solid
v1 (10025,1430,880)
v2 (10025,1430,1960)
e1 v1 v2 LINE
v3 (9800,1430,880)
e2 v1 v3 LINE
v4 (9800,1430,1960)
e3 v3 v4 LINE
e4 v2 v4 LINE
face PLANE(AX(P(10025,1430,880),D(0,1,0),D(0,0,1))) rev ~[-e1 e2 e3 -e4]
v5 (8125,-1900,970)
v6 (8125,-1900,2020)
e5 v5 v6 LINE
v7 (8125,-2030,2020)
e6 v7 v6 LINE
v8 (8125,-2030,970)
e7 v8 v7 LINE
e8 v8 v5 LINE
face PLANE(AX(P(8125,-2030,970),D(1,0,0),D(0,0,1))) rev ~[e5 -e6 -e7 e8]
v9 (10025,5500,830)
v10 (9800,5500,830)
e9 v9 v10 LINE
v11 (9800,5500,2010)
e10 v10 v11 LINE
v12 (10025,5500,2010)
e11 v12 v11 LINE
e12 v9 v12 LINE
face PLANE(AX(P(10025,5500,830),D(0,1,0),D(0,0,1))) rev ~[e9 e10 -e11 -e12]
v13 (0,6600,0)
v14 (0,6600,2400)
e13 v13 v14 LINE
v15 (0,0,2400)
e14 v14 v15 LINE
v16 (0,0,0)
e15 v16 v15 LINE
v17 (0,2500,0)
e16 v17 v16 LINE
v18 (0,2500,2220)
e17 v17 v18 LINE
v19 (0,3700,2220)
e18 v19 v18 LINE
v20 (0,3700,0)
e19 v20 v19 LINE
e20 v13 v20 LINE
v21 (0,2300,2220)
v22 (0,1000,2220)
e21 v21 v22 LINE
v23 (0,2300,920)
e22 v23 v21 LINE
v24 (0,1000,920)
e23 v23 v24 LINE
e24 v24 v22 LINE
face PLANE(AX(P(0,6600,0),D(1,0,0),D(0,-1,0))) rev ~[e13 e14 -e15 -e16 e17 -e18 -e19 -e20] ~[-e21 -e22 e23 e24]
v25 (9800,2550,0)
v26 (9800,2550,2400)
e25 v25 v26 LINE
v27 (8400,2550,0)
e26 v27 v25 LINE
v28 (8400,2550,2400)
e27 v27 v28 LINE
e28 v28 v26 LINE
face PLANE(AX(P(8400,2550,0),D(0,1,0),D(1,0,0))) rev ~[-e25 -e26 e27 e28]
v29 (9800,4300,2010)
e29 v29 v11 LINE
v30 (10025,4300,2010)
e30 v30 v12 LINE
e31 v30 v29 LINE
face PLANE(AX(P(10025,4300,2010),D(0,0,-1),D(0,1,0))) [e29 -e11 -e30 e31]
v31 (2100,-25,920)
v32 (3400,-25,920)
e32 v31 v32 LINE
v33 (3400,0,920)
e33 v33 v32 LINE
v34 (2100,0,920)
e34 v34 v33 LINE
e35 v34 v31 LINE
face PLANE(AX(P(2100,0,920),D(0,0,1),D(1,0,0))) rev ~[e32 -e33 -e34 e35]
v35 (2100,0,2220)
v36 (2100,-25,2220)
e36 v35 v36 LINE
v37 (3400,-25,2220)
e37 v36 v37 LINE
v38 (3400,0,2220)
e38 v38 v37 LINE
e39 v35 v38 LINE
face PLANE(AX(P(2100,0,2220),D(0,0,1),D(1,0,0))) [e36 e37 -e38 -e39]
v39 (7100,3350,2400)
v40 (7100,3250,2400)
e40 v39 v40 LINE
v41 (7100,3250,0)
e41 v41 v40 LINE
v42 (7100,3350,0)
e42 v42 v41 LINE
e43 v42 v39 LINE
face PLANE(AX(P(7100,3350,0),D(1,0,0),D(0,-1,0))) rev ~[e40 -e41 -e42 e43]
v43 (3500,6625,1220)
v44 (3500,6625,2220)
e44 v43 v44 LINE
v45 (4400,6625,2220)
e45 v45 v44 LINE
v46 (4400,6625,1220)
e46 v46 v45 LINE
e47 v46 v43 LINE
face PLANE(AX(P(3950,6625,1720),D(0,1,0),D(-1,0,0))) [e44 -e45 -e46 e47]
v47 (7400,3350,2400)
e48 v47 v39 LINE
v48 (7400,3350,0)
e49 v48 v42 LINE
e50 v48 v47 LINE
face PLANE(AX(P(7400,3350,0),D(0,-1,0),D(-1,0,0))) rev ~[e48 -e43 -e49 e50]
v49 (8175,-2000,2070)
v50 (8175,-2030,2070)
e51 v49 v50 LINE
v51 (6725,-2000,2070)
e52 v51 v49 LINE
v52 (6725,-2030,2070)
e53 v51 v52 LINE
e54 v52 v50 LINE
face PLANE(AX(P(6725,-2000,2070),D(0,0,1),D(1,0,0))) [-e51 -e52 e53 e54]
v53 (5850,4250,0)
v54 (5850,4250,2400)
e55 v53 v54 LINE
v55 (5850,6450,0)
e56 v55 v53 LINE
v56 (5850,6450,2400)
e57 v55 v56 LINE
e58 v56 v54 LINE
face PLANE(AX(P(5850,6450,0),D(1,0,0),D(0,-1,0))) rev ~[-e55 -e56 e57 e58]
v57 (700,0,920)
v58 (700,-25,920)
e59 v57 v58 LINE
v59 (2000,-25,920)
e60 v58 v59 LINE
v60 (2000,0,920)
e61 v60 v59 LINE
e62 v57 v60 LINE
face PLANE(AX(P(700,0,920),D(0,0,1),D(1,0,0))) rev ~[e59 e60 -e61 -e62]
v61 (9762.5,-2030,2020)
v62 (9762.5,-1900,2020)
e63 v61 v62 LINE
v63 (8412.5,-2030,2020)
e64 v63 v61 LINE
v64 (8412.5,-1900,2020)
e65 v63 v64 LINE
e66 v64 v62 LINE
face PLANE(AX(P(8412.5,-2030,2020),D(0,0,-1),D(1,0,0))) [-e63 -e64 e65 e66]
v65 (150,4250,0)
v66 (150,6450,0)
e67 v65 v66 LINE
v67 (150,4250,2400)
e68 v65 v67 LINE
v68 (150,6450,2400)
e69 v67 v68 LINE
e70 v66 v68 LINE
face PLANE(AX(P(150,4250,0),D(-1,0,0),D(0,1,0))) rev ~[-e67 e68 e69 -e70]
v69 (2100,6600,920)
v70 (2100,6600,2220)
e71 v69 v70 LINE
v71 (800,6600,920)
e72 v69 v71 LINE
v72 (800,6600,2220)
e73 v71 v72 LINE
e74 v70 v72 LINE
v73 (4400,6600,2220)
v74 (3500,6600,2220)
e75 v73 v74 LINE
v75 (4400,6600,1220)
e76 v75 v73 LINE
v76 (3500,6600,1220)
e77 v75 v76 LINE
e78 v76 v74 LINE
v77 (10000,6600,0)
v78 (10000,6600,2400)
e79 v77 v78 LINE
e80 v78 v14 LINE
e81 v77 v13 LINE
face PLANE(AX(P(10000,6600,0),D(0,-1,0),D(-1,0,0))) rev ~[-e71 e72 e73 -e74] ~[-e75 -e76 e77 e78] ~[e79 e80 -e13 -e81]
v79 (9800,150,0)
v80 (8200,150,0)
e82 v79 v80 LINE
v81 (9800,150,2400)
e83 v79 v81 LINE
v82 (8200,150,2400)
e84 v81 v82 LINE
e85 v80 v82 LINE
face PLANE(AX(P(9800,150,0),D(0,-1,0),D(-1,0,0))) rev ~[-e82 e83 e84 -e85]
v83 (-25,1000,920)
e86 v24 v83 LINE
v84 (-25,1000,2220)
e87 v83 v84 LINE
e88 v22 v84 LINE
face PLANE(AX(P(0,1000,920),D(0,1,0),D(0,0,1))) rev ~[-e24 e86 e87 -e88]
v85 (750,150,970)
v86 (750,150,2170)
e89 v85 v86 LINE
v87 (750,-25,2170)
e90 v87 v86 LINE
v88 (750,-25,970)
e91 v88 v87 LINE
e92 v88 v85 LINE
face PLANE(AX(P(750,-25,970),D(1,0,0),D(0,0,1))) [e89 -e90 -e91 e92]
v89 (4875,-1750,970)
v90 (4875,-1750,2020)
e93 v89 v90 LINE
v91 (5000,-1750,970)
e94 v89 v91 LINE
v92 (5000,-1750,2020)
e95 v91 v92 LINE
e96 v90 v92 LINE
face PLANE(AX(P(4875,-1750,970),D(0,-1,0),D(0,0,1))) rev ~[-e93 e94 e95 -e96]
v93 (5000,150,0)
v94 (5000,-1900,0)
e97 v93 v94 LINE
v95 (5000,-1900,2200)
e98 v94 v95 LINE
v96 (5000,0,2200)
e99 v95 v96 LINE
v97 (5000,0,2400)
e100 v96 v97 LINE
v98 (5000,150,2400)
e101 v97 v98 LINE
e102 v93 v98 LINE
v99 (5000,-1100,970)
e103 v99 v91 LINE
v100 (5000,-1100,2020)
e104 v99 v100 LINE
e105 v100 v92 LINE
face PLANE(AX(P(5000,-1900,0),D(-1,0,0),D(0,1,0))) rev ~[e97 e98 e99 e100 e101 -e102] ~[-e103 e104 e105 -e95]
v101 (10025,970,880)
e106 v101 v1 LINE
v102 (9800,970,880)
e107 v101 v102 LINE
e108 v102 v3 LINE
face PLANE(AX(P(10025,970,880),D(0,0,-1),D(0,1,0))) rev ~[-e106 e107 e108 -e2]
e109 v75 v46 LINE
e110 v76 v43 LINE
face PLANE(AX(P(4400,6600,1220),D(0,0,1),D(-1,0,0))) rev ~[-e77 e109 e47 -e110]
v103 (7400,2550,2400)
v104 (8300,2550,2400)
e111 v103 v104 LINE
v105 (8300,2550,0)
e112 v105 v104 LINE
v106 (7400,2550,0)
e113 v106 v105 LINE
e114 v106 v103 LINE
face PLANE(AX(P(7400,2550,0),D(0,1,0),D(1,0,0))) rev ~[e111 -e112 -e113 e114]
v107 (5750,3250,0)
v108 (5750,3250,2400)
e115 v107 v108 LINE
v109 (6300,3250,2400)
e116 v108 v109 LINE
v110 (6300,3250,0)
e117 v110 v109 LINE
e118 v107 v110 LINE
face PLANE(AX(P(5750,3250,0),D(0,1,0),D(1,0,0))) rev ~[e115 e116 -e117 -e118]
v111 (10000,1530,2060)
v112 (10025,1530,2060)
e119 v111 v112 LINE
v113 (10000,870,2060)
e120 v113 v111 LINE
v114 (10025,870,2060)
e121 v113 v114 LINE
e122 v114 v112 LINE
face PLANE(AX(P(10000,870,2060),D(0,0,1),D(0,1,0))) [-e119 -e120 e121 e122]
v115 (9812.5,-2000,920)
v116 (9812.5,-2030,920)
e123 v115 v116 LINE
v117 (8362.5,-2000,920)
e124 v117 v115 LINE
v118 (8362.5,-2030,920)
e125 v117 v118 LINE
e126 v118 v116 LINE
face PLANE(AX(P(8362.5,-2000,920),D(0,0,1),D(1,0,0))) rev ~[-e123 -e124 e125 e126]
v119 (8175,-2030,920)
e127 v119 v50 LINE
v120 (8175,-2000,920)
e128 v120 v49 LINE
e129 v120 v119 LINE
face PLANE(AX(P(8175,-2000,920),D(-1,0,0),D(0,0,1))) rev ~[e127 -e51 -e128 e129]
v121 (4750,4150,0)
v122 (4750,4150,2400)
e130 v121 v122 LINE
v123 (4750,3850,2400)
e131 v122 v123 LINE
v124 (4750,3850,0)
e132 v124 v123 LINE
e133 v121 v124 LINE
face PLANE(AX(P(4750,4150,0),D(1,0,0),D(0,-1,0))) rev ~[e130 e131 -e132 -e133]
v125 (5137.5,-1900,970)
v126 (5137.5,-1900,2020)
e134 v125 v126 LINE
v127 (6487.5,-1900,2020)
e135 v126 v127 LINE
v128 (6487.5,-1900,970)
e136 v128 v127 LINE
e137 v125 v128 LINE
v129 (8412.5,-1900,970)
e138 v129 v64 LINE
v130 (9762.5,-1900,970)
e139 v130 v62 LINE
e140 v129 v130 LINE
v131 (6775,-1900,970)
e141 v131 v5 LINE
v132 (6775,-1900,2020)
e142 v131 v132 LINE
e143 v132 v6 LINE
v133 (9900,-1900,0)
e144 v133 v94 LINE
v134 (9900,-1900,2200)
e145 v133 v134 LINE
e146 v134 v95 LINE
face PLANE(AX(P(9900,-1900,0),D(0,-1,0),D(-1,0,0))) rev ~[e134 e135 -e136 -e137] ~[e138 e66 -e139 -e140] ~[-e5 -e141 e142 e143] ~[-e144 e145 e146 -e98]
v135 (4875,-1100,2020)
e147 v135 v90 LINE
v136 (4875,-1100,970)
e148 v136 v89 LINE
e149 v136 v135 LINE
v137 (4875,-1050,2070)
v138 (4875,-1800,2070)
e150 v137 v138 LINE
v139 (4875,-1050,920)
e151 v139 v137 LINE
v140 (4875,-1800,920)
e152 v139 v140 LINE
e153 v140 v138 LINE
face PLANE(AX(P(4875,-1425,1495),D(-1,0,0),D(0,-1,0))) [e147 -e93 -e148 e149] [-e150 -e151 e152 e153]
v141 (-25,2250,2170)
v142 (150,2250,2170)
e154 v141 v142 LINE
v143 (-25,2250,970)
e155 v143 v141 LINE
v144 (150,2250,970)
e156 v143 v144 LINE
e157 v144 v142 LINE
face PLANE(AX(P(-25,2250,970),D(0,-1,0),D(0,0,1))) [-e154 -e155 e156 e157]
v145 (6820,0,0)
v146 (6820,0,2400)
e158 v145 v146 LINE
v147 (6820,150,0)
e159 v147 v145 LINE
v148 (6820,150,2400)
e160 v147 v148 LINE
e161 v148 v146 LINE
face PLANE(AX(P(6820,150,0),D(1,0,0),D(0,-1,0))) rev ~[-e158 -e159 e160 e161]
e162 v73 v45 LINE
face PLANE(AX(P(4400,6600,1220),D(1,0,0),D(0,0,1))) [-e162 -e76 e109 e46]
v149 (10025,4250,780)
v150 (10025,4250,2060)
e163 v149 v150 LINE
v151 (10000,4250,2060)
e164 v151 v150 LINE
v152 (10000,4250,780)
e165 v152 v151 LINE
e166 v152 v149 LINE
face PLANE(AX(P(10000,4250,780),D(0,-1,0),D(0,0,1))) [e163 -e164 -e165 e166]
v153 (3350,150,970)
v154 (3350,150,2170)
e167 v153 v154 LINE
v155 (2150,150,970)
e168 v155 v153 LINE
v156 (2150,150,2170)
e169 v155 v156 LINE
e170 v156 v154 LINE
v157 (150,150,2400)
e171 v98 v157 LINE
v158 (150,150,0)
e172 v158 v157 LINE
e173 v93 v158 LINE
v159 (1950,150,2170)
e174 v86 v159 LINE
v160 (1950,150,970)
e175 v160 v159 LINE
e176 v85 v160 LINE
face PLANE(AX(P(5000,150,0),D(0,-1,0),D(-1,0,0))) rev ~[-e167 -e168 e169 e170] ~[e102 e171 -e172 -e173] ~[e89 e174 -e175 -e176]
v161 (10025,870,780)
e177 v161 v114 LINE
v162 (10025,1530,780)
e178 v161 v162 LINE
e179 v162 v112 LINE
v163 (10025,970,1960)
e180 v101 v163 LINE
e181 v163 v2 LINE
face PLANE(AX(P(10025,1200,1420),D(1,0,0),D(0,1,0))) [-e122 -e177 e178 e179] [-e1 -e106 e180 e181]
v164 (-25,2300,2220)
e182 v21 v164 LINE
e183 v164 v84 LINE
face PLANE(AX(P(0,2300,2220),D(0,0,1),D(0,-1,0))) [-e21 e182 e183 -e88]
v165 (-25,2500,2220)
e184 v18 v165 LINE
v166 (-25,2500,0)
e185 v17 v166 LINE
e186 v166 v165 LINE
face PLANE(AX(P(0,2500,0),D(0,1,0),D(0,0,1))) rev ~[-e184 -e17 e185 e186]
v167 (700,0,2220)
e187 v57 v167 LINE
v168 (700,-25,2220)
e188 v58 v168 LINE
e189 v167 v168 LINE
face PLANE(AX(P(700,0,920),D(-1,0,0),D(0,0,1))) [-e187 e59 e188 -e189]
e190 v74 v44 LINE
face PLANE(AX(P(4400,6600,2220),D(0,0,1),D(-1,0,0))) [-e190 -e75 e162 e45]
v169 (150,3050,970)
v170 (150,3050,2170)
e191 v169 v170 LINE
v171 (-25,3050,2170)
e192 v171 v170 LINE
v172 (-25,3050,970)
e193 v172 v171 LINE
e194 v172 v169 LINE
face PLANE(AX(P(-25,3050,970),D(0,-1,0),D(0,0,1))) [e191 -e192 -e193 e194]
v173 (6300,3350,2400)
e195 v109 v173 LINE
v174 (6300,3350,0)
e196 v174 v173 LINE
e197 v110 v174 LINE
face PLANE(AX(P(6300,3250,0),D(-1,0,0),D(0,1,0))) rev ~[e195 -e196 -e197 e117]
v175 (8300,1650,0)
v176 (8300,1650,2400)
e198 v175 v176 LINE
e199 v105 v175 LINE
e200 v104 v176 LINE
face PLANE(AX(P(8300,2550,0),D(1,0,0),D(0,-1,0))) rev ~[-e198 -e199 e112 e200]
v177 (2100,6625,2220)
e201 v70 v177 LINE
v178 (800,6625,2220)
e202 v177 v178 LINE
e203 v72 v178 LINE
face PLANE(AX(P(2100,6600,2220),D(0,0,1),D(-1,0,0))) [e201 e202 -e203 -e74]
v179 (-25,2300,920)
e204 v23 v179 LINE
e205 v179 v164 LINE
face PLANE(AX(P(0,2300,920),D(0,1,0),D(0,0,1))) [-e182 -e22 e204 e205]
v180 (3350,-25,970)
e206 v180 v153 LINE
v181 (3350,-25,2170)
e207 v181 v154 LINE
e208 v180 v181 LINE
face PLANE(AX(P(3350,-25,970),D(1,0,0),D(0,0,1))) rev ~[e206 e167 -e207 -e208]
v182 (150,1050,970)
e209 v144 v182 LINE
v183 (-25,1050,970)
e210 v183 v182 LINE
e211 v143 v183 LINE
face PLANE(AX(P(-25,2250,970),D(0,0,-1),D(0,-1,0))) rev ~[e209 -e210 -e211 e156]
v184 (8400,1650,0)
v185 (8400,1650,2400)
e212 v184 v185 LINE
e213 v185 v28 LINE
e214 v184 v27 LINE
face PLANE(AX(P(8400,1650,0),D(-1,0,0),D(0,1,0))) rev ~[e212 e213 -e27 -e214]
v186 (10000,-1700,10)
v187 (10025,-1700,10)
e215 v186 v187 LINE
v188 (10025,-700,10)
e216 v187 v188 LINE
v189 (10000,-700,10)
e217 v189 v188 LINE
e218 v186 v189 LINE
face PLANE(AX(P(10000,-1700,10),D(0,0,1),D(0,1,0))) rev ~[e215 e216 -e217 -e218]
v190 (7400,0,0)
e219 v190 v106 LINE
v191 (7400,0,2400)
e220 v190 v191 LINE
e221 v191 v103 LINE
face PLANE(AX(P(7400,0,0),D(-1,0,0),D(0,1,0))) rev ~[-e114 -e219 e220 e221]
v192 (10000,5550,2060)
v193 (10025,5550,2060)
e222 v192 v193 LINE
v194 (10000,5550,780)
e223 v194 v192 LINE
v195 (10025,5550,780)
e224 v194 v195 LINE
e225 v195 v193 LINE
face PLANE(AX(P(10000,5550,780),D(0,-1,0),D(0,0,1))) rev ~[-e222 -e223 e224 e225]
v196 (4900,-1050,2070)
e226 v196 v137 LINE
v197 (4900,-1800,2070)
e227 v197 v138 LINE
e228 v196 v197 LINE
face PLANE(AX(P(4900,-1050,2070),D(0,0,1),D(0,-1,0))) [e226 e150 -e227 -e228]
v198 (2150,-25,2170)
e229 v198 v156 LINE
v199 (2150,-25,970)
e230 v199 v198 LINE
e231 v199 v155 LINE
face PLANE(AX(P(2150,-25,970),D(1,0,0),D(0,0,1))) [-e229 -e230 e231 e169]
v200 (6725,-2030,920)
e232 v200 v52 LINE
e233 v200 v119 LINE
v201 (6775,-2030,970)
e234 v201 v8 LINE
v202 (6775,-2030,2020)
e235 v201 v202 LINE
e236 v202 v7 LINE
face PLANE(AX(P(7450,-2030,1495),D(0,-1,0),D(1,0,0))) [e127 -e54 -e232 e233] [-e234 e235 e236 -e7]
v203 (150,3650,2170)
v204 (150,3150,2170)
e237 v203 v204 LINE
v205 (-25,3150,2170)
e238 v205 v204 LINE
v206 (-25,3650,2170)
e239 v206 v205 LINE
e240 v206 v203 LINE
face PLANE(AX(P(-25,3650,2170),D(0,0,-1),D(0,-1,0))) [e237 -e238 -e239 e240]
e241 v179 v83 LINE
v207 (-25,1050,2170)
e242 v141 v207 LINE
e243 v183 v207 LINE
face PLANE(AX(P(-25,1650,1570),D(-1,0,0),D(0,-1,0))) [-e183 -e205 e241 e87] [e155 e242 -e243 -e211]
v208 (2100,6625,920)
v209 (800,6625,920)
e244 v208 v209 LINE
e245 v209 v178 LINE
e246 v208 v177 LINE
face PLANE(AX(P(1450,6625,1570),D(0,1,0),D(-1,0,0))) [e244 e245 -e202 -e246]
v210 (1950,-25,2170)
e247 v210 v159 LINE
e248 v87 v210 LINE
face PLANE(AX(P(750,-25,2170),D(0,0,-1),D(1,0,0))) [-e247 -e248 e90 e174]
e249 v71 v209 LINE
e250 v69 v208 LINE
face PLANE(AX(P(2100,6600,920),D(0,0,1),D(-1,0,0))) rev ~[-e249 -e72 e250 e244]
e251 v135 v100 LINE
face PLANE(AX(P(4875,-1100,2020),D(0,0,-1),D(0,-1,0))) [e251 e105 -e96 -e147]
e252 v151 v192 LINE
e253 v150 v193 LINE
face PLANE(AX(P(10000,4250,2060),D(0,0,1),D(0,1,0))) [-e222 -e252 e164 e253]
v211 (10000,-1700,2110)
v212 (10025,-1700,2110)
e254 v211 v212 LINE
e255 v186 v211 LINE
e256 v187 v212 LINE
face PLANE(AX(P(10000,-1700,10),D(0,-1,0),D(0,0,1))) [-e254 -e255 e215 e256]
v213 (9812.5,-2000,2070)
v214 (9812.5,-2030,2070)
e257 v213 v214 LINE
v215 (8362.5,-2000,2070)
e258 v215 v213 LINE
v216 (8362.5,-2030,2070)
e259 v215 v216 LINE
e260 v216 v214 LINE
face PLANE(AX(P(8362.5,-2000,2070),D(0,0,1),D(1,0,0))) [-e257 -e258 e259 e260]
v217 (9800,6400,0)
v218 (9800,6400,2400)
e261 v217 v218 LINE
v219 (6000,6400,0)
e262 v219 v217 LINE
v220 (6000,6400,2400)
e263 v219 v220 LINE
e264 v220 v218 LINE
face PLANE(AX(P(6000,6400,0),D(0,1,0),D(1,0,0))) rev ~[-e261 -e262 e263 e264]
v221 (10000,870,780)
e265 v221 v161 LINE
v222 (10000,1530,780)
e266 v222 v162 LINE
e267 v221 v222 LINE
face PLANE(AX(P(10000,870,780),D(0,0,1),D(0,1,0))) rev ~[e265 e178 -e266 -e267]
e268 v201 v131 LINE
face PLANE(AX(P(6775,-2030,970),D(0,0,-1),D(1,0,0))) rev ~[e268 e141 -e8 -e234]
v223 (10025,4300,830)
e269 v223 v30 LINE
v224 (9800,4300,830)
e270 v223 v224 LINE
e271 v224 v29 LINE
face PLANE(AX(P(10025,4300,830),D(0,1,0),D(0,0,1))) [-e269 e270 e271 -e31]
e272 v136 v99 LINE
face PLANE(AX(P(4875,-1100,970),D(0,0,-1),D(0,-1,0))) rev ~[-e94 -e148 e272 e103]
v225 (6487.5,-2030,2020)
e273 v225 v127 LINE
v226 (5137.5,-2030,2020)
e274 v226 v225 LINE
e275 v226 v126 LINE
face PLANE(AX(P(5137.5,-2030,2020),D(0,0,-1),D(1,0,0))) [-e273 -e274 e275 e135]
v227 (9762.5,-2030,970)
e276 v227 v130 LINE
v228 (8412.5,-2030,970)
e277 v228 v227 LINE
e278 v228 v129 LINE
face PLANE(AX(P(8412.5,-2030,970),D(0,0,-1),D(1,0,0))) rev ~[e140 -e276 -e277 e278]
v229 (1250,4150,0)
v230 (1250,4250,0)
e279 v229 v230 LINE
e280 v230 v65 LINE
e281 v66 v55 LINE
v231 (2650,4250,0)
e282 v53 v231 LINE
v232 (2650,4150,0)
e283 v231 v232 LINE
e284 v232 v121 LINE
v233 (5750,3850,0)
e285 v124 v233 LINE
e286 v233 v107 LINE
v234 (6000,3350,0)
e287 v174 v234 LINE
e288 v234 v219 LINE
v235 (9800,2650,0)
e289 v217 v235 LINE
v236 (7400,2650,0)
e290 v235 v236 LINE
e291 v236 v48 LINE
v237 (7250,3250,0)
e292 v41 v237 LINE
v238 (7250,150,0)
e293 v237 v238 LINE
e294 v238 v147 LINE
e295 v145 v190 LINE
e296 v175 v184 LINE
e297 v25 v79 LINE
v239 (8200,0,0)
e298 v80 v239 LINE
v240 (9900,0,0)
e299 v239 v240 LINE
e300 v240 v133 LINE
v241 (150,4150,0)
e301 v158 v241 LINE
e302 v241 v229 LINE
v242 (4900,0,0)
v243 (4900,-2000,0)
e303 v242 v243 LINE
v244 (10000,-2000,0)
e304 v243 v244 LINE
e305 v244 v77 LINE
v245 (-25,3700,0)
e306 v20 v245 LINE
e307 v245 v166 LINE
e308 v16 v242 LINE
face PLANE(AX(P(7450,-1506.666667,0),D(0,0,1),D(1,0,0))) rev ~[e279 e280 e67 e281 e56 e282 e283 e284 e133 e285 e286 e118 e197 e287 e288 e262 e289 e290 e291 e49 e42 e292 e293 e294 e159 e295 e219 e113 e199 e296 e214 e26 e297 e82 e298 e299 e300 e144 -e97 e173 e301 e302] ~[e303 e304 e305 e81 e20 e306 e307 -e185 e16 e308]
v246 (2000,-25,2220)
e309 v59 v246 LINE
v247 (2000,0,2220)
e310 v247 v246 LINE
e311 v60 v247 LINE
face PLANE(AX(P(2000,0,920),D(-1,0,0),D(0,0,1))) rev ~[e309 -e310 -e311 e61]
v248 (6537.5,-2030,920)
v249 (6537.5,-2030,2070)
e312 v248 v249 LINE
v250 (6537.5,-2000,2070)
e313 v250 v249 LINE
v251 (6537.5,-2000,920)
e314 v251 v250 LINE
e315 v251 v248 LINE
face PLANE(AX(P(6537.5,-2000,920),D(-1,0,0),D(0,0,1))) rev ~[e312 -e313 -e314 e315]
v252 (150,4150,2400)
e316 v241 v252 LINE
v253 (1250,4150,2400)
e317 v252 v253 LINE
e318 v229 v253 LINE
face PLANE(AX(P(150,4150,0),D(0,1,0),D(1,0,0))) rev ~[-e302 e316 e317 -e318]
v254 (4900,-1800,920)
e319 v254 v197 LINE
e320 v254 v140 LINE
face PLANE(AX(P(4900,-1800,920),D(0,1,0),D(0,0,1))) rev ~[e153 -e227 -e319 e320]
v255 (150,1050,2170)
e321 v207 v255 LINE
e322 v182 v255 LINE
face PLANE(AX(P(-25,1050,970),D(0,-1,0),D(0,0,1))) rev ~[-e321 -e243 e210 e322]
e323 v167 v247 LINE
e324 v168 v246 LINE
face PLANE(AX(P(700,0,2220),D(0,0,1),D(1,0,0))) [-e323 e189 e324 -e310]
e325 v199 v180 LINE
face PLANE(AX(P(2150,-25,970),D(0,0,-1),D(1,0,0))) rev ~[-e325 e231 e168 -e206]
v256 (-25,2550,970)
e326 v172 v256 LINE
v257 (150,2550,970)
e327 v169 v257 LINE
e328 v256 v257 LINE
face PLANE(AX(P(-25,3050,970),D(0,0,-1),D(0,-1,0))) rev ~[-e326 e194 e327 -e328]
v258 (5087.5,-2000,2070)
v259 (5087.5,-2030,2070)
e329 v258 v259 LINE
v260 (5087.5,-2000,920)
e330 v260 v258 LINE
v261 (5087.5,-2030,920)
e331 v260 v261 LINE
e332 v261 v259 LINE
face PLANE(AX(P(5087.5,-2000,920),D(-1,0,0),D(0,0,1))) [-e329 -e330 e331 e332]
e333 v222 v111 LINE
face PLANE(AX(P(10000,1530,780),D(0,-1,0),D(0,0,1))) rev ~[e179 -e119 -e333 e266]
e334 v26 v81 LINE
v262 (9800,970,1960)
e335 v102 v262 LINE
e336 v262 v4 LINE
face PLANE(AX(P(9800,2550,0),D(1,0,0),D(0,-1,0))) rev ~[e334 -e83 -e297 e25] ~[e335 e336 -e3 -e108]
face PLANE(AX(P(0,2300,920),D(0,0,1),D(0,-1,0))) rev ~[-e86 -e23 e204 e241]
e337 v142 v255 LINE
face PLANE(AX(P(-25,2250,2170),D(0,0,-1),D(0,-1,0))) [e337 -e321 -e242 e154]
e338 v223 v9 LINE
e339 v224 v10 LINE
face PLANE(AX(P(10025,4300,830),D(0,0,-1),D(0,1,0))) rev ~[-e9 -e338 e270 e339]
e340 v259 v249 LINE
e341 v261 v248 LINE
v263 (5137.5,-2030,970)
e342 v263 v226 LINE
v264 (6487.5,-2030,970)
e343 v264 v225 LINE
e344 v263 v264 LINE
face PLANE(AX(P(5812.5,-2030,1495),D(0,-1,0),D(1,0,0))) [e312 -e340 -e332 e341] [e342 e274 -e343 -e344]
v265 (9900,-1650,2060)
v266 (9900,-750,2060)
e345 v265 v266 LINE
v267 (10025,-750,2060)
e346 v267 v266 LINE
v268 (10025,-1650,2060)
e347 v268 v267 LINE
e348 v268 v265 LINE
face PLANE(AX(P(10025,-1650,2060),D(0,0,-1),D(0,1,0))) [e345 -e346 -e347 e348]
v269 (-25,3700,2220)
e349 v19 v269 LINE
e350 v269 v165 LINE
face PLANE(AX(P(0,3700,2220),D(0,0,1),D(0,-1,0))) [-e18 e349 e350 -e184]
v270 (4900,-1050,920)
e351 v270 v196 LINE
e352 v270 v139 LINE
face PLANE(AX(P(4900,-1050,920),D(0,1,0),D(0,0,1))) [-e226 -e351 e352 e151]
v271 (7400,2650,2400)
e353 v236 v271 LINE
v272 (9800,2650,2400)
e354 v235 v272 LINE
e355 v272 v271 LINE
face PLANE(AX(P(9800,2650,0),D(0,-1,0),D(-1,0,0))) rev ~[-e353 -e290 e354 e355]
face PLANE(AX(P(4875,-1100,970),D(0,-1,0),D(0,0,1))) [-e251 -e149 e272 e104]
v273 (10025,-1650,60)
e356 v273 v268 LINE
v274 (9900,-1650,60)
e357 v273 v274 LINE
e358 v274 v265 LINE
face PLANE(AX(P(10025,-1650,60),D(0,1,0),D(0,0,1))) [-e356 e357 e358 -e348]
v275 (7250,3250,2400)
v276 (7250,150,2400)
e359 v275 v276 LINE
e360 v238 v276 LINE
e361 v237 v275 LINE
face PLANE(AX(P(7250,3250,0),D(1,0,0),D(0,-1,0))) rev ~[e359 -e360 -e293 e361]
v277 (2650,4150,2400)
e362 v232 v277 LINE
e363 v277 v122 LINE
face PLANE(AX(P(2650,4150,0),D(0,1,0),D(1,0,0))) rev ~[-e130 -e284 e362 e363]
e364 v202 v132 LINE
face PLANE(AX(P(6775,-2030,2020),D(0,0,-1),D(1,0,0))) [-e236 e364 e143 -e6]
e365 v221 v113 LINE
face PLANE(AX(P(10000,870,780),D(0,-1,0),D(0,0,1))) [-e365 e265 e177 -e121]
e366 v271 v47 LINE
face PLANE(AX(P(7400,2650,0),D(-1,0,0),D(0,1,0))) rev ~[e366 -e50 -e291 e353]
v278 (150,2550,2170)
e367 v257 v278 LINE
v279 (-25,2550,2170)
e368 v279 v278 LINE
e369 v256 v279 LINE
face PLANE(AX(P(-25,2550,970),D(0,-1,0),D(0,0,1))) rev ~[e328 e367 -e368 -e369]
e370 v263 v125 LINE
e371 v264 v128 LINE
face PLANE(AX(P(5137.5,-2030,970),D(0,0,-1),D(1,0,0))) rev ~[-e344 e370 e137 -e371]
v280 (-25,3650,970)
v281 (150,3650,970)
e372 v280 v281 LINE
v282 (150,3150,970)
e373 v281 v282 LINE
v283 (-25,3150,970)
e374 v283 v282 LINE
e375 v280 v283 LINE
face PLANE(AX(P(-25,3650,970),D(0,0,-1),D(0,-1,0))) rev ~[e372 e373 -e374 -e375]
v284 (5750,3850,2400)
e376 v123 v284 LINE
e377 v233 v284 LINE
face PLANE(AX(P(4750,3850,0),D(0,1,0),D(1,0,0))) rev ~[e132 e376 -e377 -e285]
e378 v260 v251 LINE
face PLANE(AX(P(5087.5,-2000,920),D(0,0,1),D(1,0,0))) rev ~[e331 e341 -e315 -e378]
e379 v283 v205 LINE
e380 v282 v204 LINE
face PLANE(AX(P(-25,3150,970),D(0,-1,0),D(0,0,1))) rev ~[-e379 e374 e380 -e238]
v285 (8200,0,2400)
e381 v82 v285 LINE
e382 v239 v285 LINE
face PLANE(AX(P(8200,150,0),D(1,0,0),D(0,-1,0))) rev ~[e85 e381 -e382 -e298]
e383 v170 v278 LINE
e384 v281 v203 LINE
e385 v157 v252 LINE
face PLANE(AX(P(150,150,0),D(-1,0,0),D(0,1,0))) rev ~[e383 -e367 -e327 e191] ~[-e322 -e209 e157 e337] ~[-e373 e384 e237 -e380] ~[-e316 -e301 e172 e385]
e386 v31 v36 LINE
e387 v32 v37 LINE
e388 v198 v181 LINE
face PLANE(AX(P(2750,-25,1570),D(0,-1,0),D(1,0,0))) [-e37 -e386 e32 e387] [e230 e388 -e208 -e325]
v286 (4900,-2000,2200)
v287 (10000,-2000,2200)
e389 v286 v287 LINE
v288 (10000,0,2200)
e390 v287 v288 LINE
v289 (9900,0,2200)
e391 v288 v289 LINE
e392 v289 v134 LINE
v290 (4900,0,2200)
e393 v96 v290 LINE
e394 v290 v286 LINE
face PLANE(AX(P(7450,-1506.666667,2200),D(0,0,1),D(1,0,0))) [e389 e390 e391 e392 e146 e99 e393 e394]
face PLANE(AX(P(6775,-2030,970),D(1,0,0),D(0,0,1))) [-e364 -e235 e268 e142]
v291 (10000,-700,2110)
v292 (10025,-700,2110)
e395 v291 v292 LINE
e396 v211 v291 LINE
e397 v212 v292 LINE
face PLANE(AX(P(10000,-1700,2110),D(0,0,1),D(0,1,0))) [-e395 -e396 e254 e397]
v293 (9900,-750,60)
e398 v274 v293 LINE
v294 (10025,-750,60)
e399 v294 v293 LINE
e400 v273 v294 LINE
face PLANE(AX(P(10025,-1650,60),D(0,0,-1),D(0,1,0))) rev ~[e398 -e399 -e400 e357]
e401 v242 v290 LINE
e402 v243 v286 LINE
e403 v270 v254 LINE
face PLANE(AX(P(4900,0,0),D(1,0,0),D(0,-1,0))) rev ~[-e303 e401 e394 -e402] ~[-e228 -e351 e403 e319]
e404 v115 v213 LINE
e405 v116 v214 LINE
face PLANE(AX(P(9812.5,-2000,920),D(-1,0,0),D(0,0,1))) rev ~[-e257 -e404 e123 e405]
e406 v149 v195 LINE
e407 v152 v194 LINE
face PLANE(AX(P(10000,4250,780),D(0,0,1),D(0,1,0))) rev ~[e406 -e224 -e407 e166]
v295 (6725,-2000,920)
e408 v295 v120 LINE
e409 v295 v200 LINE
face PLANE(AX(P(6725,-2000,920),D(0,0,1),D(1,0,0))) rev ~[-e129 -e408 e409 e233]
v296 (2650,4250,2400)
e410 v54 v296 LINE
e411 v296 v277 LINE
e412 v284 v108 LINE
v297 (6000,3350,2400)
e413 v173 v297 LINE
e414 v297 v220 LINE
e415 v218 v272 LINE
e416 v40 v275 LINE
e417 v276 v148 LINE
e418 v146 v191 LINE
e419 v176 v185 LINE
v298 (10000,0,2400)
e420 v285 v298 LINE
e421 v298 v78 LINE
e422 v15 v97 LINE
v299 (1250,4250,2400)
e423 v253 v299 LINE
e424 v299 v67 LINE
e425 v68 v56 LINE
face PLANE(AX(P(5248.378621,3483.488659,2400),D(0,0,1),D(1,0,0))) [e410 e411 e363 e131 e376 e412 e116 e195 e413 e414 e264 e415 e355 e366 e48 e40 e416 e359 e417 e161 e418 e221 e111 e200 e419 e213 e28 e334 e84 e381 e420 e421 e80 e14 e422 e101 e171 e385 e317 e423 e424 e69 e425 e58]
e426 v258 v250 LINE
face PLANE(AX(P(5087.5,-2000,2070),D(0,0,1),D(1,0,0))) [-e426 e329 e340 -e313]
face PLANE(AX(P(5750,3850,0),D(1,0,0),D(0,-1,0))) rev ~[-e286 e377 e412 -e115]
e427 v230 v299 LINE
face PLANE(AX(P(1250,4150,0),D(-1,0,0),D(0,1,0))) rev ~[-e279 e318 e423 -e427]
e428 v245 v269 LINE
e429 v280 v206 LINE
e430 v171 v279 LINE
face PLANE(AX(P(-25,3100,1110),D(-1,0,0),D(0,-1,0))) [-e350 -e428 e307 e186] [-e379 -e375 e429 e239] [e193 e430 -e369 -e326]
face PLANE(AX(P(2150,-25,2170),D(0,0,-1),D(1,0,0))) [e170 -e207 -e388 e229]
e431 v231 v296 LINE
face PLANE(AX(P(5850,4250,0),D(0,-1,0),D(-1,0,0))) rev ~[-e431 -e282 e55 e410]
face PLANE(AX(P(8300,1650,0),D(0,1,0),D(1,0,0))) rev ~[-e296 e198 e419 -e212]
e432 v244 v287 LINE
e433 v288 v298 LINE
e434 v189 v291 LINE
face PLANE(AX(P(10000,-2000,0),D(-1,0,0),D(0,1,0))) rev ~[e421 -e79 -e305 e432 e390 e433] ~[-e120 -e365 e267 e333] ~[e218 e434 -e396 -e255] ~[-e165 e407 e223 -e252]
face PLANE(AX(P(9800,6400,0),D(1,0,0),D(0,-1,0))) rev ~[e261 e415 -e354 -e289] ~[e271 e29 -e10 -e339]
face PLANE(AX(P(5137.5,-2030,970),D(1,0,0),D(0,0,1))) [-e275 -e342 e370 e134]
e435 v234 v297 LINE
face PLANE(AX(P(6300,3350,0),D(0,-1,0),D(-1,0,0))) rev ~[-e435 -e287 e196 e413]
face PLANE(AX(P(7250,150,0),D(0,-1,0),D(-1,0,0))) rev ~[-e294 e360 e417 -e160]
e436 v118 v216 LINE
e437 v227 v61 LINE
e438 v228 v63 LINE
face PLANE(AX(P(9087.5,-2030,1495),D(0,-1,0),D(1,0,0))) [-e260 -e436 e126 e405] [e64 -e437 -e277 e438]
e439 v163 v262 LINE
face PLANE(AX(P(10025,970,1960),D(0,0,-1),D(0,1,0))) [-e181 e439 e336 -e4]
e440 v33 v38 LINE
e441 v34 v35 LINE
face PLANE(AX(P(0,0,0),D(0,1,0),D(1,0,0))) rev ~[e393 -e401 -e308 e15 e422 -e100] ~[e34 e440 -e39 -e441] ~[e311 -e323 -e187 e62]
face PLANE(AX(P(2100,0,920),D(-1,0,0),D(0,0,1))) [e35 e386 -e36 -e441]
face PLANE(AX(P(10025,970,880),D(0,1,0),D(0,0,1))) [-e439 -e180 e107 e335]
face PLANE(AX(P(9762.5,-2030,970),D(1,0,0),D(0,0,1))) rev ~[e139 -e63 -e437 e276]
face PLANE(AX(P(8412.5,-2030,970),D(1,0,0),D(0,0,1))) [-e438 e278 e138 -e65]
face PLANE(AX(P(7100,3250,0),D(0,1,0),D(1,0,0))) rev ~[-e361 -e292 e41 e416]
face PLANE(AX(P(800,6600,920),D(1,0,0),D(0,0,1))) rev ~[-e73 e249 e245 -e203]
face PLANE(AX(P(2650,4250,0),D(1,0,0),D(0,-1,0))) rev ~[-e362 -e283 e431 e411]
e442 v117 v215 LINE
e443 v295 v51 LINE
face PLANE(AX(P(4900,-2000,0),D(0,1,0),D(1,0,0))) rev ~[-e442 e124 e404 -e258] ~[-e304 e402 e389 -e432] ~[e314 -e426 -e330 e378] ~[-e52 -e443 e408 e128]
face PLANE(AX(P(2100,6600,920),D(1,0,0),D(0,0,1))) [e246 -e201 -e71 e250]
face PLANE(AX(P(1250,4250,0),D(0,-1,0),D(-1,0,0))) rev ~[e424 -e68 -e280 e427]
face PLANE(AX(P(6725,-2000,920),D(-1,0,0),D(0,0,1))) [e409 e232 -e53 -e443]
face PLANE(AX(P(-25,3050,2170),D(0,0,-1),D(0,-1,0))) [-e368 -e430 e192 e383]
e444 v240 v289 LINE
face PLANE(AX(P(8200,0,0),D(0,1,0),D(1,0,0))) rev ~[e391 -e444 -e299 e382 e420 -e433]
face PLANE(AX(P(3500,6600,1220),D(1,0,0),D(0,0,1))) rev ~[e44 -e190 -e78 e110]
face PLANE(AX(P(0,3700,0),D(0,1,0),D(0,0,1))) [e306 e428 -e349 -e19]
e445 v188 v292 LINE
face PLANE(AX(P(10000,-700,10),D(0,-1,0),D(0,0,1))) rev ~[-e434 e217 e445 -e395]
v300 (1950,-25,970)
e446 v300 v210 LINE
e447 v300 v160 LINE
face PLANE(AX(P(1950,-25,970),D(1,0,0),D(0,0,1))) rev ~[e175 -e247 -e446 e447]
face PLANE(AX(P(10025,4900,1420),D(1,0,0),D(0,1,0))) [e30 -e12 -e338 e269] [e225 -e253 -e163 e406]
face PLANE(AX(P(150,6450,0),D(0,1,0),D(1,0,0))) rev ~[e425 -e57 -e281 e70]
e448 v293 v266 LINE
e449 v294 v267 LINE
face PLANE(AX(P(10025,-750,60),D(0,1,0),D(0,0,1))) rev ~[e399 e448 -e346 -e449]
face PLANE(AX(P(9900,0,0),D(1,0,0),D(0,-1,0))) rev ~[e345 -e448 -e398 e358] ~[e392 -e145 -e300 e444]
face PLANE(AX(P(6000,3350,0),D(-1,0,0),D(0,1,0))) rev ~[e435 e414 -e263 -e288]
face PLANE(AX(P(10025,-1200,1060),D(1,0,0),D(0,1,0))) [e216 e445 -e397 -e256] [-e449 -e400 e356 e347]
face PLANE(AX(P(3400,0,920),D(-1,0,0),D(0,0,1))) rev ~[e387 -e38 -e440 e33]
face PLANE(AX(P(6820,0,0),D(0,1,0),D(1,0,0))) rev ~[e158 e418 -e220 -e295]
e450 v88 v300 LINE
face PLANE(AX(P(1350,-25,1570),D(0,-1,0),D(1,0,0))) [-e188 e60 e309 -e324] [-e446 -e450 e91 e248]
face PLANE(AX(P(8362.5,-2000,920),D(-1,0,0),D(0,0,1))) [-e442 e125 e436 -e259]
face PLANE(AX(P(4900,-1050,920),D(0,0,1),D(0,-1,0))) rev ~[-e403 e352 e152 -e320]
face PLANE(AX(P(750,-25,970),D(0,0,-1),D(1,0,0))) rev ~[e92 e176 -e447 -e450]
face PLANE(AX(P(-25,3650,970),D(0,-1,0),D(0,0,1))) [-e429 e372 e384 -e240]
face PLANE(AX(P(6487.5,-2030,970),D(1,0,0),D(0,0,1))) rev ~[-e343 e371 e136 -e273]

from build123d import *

# Parameters (mm, degrees)
F1_DEPTH  = 2400
F3_DEPTH  = 2200
F4_W      = 1450
F4_H      = 1150
F5_DEPTH  = 30
F6_W      = 1350
F6_H      = 1050
F7_DEPTH  = 130
F8_W      = 1000
F8_H      = 2100
F9_DEPTH  = 25
F10_W     = 900
F10_H     = 2000
F11_DEPTH = 125
F12_W     = 750
F12_H     = 1150
F13_DEPTH = 25
F14_W     = 650
F14_H     = 1050
F15_DEPTH = 125
F16_W     = 660
F16_H     = 1280
F17_DEPTH = 25
F18_W     = 460
F18_H     = 1080
F19_DEPTH = 225
F20_W     = 1300
F20_H     = 1280
F21_DEPTH = 25
F22_W     = 1200
F22_H     = 1180
F23_DEPTH = 225
F24_W     = 1300
F24_H     = 1300
F25_DEPTH = 25
F26_W     = 1200
F26_H     = 1200
F27_DEPTH = 175
F28_W     = 1300
F28_H     = 1300
F28_W_2   = 900
F28_H_2   = 1000
F29_DEPTH = 25
F30_W     = 1300
F30_H     = 1300
F30_W_2   = 1200
F30_H_2   = 2220
F31_DEPTH = 25
F32_W     = 1200
F32_H     = 1200
F32_W_2   = 500
F33_DEPTH = 175


with BuildPart() as f1:
    # F0 (on Top) → F1 (new body)
    with BuildSketch(Plane.XY):
        Polygon((0, 6600), (0, 0), (5000, 0), (5000, 150), (150, 150), (150, 4150), (1250, 4150), (1250, 4250), (150, 4250), (150, 6450), (5850, 6450), (5850, 4250), (2650, 4250), (2650, 4150), (4750, 4150), (4750, 3850), (5750, 3850), (5750, 3250), (6300, 3250), (6300, 3350), (6000, 3350), (6000, 6400), (9800, 6400), (9800, 2650), (7400, 2650), (7400, 3350), (7100, 3350), (7100, 3250), (7250, 3250), (7250, 150), (6820, 150), (6820, 0), (7400, 0), (7400, 2550), (8300, 2550), (8300, 1650), (8400, 1650), (8400, 2550), (9800, 2550), (9800, 150), (8200, 150), (8200, 0), (10000, 0), (10000, 6600), align=None)
    extrude(amount=F1_DEPTH)

    # F2 (on Top) → F3 (join)
    with BuildSketch(Plane.XY):
        Polygon((10000, -2000), (10000, 0), (9900, 0), (9900, -1900), (5000, -1900), (5000, 0), (4900, 0), (4900, -2000), align=None)
    extrude(amount=F3_DEPTH)

    # F4 (on face) → F5 (join)
    with BuildSketch(Plane.XZ.offset(2000)):
        with Locations((5812.5, 1495)):
            Rectangle(F4_W, F4_H)
        with Locations((7450, 1495)):
            Rectangle(F4_W, F4_H)
        with Locations((9087.5, 1495)):
            Rectangle(F4_W, F4_H)
    extrude(amount=F5_DEPTH)

    # F6 (on face) → F7 (cut, through all)
    with BuildSketch(Plane.XZ.offset(2030)):
        with Locations((5812.5, 1495)):
            Rectangle(F6_W, F6_H)
        with Locations((7450, 1495)):
            Rectangle(F6_W, F6_H)
        with Locations((9087.5, 1495)):
            Rectangle(F6_W, F6_H)
    extrude(amount=-F7_DEPTH, mode=Mode.SUBTRACT)

    # F8 (on face) → F9 (join)
    with BuildSketch(Plane.YZ.offset(10000)):
        with Locations((-1200, 1060)):
            Rectangle(F8_W, F8_H)
    extrude(amount=F9_DEPTH)

    # F10 (on face) → F11 (cut)
    with BuildSketch(Plane.YZ.offset(10025)):
        with Locations((-1200, 1060)):
            Rectangle(F10_W, F10_H)
    extrude(amount=-F11_DEPTH, mode=Mode.SUBTRACT)

    # F12 (on face) → F13 (join)
    with BuildSketch(Plane(origin=(4900, 0, 0), x_dir=(0, -1, 0), z_dir=(-1, 0, 0))):
        with Locations((1425, 1495)):
            Rectangle(F12_W, F12_H)
    extrude(amount=F13_DEPTH)

    # F14 (on face) → F15 (cut, through all)
    with BuildSketch(Plane(origin=(4875, 0, 0), x_dir=(0, -1, 0), z_dir=(-1, 0, 0))):
        with Locations((1425, 1495)):
            Rectangle(F14_W, F14_H)
    extrude(amount=-F15_DEPTH, mode=Mode.SUBTRACT)

    # F16 (on face) → F17 (join)
    with BuildSketch(Plane.YZ.offset(10000)):
        with Locations((1200, 1420)):
            Rectangle(F16_W, F16_H)
    extrude(amount=F17_DEPTH)

    # F18 (on face) → F19 (cut, through all)
    with BuildSketch(Plane.YZ.offset(10025)):
        with Locations((1200, 1420)):
            Rectangle(F18_W, F18_H)
    extrude(amount=-F19_DEPTH, mode=Mode.SUBTRACT)

    # F20 (on face) → F21 (join)
    with BuildSketch(Plane.YZ.offset(10000)):
        with Locations((4900, 1420)):
            Rectangle(F20_W, F20_H)
    extrude(amount=F21_DEPTH)

    # F22 (on face) → F23 (cut, through all)
    with BuildSketch(Plane.YZ.offset(10025)):
        with Locations((4900, 1420)):
            Rectangle(F22_W, F22_H)
    extrude(amount=-F23_DEPTH, mode=Mode.SUBTRACT)

    # F24 (on face) → F25 (join)
    with BuildSketch(Plane.XZ):
        with Locations((2750, 1570)):
            Rectangle(F24_W, F24_H)
        with Locations((1350, 1570)):
            Rectangle(F24_W, F24_H)
    extrude(amount=F25_DEPTH)

    # F26 (on face) → F27 (cut, through all)
    with BuildSketch(Plane.XZ.offset(25)):
        with Locations((2750, 1570)):
            Rectangle(F26_W, F26_H)
        with Locations((1350, 1570)):
            Rectangle(F26_W, F26_H)
    extrude(amount=-F27_DEPTH, mode=Mode.SUBTRACT)

    # F28 (on face) → F29 (join)
    with BuildSketch(Plane(origin=(0, 6600, 0), x_dir=(-1, 0, 0), z_dir=(0, 1, 0))):
        with Locations((-1450, 1570)):
            Rectangle(F28_W, F28_H)
        with Locations((-3950, 1720)):
            Rectangle(F28_W_2, F28_H_2)
    extrude(amount=F29_DEPTH)

    # F30 (on face) → F31 (join)
    with BuildSketch(Plane(origin=(0, 0, 0), x_dir=(0, -1, 0), z_dir=(-1, 0, 0))):
        with Locations((-1650, 1570)):
            Rectangle(F30_W, F30_H)
        with Locations((-3100, 1110)):
            Rectangle(F30_W_2, F30_H_2)
    extrude(amount=F31_DEPTH)

    # F32 (on face) → F33 (cut, through all)
    with BuildSketch(Plane(origin=(-25, 0, 0), x_dir=(0, -1, 0), z_dir=(-1, 0, 0))):
        with Locations((-1650, 1570)):
            Rectangle(F32_W, F32_H)
        with Locations((-2800, 1570)):
            Rectangle(F32_W_2, F32_H)
        with Locations((-3400, 1570)):
            Rectangle(F32_W_2, F32_H)
    extrude(amount=-F33_DEPTH, mode=Mode.SUBTRACT)


solid = f1.part
